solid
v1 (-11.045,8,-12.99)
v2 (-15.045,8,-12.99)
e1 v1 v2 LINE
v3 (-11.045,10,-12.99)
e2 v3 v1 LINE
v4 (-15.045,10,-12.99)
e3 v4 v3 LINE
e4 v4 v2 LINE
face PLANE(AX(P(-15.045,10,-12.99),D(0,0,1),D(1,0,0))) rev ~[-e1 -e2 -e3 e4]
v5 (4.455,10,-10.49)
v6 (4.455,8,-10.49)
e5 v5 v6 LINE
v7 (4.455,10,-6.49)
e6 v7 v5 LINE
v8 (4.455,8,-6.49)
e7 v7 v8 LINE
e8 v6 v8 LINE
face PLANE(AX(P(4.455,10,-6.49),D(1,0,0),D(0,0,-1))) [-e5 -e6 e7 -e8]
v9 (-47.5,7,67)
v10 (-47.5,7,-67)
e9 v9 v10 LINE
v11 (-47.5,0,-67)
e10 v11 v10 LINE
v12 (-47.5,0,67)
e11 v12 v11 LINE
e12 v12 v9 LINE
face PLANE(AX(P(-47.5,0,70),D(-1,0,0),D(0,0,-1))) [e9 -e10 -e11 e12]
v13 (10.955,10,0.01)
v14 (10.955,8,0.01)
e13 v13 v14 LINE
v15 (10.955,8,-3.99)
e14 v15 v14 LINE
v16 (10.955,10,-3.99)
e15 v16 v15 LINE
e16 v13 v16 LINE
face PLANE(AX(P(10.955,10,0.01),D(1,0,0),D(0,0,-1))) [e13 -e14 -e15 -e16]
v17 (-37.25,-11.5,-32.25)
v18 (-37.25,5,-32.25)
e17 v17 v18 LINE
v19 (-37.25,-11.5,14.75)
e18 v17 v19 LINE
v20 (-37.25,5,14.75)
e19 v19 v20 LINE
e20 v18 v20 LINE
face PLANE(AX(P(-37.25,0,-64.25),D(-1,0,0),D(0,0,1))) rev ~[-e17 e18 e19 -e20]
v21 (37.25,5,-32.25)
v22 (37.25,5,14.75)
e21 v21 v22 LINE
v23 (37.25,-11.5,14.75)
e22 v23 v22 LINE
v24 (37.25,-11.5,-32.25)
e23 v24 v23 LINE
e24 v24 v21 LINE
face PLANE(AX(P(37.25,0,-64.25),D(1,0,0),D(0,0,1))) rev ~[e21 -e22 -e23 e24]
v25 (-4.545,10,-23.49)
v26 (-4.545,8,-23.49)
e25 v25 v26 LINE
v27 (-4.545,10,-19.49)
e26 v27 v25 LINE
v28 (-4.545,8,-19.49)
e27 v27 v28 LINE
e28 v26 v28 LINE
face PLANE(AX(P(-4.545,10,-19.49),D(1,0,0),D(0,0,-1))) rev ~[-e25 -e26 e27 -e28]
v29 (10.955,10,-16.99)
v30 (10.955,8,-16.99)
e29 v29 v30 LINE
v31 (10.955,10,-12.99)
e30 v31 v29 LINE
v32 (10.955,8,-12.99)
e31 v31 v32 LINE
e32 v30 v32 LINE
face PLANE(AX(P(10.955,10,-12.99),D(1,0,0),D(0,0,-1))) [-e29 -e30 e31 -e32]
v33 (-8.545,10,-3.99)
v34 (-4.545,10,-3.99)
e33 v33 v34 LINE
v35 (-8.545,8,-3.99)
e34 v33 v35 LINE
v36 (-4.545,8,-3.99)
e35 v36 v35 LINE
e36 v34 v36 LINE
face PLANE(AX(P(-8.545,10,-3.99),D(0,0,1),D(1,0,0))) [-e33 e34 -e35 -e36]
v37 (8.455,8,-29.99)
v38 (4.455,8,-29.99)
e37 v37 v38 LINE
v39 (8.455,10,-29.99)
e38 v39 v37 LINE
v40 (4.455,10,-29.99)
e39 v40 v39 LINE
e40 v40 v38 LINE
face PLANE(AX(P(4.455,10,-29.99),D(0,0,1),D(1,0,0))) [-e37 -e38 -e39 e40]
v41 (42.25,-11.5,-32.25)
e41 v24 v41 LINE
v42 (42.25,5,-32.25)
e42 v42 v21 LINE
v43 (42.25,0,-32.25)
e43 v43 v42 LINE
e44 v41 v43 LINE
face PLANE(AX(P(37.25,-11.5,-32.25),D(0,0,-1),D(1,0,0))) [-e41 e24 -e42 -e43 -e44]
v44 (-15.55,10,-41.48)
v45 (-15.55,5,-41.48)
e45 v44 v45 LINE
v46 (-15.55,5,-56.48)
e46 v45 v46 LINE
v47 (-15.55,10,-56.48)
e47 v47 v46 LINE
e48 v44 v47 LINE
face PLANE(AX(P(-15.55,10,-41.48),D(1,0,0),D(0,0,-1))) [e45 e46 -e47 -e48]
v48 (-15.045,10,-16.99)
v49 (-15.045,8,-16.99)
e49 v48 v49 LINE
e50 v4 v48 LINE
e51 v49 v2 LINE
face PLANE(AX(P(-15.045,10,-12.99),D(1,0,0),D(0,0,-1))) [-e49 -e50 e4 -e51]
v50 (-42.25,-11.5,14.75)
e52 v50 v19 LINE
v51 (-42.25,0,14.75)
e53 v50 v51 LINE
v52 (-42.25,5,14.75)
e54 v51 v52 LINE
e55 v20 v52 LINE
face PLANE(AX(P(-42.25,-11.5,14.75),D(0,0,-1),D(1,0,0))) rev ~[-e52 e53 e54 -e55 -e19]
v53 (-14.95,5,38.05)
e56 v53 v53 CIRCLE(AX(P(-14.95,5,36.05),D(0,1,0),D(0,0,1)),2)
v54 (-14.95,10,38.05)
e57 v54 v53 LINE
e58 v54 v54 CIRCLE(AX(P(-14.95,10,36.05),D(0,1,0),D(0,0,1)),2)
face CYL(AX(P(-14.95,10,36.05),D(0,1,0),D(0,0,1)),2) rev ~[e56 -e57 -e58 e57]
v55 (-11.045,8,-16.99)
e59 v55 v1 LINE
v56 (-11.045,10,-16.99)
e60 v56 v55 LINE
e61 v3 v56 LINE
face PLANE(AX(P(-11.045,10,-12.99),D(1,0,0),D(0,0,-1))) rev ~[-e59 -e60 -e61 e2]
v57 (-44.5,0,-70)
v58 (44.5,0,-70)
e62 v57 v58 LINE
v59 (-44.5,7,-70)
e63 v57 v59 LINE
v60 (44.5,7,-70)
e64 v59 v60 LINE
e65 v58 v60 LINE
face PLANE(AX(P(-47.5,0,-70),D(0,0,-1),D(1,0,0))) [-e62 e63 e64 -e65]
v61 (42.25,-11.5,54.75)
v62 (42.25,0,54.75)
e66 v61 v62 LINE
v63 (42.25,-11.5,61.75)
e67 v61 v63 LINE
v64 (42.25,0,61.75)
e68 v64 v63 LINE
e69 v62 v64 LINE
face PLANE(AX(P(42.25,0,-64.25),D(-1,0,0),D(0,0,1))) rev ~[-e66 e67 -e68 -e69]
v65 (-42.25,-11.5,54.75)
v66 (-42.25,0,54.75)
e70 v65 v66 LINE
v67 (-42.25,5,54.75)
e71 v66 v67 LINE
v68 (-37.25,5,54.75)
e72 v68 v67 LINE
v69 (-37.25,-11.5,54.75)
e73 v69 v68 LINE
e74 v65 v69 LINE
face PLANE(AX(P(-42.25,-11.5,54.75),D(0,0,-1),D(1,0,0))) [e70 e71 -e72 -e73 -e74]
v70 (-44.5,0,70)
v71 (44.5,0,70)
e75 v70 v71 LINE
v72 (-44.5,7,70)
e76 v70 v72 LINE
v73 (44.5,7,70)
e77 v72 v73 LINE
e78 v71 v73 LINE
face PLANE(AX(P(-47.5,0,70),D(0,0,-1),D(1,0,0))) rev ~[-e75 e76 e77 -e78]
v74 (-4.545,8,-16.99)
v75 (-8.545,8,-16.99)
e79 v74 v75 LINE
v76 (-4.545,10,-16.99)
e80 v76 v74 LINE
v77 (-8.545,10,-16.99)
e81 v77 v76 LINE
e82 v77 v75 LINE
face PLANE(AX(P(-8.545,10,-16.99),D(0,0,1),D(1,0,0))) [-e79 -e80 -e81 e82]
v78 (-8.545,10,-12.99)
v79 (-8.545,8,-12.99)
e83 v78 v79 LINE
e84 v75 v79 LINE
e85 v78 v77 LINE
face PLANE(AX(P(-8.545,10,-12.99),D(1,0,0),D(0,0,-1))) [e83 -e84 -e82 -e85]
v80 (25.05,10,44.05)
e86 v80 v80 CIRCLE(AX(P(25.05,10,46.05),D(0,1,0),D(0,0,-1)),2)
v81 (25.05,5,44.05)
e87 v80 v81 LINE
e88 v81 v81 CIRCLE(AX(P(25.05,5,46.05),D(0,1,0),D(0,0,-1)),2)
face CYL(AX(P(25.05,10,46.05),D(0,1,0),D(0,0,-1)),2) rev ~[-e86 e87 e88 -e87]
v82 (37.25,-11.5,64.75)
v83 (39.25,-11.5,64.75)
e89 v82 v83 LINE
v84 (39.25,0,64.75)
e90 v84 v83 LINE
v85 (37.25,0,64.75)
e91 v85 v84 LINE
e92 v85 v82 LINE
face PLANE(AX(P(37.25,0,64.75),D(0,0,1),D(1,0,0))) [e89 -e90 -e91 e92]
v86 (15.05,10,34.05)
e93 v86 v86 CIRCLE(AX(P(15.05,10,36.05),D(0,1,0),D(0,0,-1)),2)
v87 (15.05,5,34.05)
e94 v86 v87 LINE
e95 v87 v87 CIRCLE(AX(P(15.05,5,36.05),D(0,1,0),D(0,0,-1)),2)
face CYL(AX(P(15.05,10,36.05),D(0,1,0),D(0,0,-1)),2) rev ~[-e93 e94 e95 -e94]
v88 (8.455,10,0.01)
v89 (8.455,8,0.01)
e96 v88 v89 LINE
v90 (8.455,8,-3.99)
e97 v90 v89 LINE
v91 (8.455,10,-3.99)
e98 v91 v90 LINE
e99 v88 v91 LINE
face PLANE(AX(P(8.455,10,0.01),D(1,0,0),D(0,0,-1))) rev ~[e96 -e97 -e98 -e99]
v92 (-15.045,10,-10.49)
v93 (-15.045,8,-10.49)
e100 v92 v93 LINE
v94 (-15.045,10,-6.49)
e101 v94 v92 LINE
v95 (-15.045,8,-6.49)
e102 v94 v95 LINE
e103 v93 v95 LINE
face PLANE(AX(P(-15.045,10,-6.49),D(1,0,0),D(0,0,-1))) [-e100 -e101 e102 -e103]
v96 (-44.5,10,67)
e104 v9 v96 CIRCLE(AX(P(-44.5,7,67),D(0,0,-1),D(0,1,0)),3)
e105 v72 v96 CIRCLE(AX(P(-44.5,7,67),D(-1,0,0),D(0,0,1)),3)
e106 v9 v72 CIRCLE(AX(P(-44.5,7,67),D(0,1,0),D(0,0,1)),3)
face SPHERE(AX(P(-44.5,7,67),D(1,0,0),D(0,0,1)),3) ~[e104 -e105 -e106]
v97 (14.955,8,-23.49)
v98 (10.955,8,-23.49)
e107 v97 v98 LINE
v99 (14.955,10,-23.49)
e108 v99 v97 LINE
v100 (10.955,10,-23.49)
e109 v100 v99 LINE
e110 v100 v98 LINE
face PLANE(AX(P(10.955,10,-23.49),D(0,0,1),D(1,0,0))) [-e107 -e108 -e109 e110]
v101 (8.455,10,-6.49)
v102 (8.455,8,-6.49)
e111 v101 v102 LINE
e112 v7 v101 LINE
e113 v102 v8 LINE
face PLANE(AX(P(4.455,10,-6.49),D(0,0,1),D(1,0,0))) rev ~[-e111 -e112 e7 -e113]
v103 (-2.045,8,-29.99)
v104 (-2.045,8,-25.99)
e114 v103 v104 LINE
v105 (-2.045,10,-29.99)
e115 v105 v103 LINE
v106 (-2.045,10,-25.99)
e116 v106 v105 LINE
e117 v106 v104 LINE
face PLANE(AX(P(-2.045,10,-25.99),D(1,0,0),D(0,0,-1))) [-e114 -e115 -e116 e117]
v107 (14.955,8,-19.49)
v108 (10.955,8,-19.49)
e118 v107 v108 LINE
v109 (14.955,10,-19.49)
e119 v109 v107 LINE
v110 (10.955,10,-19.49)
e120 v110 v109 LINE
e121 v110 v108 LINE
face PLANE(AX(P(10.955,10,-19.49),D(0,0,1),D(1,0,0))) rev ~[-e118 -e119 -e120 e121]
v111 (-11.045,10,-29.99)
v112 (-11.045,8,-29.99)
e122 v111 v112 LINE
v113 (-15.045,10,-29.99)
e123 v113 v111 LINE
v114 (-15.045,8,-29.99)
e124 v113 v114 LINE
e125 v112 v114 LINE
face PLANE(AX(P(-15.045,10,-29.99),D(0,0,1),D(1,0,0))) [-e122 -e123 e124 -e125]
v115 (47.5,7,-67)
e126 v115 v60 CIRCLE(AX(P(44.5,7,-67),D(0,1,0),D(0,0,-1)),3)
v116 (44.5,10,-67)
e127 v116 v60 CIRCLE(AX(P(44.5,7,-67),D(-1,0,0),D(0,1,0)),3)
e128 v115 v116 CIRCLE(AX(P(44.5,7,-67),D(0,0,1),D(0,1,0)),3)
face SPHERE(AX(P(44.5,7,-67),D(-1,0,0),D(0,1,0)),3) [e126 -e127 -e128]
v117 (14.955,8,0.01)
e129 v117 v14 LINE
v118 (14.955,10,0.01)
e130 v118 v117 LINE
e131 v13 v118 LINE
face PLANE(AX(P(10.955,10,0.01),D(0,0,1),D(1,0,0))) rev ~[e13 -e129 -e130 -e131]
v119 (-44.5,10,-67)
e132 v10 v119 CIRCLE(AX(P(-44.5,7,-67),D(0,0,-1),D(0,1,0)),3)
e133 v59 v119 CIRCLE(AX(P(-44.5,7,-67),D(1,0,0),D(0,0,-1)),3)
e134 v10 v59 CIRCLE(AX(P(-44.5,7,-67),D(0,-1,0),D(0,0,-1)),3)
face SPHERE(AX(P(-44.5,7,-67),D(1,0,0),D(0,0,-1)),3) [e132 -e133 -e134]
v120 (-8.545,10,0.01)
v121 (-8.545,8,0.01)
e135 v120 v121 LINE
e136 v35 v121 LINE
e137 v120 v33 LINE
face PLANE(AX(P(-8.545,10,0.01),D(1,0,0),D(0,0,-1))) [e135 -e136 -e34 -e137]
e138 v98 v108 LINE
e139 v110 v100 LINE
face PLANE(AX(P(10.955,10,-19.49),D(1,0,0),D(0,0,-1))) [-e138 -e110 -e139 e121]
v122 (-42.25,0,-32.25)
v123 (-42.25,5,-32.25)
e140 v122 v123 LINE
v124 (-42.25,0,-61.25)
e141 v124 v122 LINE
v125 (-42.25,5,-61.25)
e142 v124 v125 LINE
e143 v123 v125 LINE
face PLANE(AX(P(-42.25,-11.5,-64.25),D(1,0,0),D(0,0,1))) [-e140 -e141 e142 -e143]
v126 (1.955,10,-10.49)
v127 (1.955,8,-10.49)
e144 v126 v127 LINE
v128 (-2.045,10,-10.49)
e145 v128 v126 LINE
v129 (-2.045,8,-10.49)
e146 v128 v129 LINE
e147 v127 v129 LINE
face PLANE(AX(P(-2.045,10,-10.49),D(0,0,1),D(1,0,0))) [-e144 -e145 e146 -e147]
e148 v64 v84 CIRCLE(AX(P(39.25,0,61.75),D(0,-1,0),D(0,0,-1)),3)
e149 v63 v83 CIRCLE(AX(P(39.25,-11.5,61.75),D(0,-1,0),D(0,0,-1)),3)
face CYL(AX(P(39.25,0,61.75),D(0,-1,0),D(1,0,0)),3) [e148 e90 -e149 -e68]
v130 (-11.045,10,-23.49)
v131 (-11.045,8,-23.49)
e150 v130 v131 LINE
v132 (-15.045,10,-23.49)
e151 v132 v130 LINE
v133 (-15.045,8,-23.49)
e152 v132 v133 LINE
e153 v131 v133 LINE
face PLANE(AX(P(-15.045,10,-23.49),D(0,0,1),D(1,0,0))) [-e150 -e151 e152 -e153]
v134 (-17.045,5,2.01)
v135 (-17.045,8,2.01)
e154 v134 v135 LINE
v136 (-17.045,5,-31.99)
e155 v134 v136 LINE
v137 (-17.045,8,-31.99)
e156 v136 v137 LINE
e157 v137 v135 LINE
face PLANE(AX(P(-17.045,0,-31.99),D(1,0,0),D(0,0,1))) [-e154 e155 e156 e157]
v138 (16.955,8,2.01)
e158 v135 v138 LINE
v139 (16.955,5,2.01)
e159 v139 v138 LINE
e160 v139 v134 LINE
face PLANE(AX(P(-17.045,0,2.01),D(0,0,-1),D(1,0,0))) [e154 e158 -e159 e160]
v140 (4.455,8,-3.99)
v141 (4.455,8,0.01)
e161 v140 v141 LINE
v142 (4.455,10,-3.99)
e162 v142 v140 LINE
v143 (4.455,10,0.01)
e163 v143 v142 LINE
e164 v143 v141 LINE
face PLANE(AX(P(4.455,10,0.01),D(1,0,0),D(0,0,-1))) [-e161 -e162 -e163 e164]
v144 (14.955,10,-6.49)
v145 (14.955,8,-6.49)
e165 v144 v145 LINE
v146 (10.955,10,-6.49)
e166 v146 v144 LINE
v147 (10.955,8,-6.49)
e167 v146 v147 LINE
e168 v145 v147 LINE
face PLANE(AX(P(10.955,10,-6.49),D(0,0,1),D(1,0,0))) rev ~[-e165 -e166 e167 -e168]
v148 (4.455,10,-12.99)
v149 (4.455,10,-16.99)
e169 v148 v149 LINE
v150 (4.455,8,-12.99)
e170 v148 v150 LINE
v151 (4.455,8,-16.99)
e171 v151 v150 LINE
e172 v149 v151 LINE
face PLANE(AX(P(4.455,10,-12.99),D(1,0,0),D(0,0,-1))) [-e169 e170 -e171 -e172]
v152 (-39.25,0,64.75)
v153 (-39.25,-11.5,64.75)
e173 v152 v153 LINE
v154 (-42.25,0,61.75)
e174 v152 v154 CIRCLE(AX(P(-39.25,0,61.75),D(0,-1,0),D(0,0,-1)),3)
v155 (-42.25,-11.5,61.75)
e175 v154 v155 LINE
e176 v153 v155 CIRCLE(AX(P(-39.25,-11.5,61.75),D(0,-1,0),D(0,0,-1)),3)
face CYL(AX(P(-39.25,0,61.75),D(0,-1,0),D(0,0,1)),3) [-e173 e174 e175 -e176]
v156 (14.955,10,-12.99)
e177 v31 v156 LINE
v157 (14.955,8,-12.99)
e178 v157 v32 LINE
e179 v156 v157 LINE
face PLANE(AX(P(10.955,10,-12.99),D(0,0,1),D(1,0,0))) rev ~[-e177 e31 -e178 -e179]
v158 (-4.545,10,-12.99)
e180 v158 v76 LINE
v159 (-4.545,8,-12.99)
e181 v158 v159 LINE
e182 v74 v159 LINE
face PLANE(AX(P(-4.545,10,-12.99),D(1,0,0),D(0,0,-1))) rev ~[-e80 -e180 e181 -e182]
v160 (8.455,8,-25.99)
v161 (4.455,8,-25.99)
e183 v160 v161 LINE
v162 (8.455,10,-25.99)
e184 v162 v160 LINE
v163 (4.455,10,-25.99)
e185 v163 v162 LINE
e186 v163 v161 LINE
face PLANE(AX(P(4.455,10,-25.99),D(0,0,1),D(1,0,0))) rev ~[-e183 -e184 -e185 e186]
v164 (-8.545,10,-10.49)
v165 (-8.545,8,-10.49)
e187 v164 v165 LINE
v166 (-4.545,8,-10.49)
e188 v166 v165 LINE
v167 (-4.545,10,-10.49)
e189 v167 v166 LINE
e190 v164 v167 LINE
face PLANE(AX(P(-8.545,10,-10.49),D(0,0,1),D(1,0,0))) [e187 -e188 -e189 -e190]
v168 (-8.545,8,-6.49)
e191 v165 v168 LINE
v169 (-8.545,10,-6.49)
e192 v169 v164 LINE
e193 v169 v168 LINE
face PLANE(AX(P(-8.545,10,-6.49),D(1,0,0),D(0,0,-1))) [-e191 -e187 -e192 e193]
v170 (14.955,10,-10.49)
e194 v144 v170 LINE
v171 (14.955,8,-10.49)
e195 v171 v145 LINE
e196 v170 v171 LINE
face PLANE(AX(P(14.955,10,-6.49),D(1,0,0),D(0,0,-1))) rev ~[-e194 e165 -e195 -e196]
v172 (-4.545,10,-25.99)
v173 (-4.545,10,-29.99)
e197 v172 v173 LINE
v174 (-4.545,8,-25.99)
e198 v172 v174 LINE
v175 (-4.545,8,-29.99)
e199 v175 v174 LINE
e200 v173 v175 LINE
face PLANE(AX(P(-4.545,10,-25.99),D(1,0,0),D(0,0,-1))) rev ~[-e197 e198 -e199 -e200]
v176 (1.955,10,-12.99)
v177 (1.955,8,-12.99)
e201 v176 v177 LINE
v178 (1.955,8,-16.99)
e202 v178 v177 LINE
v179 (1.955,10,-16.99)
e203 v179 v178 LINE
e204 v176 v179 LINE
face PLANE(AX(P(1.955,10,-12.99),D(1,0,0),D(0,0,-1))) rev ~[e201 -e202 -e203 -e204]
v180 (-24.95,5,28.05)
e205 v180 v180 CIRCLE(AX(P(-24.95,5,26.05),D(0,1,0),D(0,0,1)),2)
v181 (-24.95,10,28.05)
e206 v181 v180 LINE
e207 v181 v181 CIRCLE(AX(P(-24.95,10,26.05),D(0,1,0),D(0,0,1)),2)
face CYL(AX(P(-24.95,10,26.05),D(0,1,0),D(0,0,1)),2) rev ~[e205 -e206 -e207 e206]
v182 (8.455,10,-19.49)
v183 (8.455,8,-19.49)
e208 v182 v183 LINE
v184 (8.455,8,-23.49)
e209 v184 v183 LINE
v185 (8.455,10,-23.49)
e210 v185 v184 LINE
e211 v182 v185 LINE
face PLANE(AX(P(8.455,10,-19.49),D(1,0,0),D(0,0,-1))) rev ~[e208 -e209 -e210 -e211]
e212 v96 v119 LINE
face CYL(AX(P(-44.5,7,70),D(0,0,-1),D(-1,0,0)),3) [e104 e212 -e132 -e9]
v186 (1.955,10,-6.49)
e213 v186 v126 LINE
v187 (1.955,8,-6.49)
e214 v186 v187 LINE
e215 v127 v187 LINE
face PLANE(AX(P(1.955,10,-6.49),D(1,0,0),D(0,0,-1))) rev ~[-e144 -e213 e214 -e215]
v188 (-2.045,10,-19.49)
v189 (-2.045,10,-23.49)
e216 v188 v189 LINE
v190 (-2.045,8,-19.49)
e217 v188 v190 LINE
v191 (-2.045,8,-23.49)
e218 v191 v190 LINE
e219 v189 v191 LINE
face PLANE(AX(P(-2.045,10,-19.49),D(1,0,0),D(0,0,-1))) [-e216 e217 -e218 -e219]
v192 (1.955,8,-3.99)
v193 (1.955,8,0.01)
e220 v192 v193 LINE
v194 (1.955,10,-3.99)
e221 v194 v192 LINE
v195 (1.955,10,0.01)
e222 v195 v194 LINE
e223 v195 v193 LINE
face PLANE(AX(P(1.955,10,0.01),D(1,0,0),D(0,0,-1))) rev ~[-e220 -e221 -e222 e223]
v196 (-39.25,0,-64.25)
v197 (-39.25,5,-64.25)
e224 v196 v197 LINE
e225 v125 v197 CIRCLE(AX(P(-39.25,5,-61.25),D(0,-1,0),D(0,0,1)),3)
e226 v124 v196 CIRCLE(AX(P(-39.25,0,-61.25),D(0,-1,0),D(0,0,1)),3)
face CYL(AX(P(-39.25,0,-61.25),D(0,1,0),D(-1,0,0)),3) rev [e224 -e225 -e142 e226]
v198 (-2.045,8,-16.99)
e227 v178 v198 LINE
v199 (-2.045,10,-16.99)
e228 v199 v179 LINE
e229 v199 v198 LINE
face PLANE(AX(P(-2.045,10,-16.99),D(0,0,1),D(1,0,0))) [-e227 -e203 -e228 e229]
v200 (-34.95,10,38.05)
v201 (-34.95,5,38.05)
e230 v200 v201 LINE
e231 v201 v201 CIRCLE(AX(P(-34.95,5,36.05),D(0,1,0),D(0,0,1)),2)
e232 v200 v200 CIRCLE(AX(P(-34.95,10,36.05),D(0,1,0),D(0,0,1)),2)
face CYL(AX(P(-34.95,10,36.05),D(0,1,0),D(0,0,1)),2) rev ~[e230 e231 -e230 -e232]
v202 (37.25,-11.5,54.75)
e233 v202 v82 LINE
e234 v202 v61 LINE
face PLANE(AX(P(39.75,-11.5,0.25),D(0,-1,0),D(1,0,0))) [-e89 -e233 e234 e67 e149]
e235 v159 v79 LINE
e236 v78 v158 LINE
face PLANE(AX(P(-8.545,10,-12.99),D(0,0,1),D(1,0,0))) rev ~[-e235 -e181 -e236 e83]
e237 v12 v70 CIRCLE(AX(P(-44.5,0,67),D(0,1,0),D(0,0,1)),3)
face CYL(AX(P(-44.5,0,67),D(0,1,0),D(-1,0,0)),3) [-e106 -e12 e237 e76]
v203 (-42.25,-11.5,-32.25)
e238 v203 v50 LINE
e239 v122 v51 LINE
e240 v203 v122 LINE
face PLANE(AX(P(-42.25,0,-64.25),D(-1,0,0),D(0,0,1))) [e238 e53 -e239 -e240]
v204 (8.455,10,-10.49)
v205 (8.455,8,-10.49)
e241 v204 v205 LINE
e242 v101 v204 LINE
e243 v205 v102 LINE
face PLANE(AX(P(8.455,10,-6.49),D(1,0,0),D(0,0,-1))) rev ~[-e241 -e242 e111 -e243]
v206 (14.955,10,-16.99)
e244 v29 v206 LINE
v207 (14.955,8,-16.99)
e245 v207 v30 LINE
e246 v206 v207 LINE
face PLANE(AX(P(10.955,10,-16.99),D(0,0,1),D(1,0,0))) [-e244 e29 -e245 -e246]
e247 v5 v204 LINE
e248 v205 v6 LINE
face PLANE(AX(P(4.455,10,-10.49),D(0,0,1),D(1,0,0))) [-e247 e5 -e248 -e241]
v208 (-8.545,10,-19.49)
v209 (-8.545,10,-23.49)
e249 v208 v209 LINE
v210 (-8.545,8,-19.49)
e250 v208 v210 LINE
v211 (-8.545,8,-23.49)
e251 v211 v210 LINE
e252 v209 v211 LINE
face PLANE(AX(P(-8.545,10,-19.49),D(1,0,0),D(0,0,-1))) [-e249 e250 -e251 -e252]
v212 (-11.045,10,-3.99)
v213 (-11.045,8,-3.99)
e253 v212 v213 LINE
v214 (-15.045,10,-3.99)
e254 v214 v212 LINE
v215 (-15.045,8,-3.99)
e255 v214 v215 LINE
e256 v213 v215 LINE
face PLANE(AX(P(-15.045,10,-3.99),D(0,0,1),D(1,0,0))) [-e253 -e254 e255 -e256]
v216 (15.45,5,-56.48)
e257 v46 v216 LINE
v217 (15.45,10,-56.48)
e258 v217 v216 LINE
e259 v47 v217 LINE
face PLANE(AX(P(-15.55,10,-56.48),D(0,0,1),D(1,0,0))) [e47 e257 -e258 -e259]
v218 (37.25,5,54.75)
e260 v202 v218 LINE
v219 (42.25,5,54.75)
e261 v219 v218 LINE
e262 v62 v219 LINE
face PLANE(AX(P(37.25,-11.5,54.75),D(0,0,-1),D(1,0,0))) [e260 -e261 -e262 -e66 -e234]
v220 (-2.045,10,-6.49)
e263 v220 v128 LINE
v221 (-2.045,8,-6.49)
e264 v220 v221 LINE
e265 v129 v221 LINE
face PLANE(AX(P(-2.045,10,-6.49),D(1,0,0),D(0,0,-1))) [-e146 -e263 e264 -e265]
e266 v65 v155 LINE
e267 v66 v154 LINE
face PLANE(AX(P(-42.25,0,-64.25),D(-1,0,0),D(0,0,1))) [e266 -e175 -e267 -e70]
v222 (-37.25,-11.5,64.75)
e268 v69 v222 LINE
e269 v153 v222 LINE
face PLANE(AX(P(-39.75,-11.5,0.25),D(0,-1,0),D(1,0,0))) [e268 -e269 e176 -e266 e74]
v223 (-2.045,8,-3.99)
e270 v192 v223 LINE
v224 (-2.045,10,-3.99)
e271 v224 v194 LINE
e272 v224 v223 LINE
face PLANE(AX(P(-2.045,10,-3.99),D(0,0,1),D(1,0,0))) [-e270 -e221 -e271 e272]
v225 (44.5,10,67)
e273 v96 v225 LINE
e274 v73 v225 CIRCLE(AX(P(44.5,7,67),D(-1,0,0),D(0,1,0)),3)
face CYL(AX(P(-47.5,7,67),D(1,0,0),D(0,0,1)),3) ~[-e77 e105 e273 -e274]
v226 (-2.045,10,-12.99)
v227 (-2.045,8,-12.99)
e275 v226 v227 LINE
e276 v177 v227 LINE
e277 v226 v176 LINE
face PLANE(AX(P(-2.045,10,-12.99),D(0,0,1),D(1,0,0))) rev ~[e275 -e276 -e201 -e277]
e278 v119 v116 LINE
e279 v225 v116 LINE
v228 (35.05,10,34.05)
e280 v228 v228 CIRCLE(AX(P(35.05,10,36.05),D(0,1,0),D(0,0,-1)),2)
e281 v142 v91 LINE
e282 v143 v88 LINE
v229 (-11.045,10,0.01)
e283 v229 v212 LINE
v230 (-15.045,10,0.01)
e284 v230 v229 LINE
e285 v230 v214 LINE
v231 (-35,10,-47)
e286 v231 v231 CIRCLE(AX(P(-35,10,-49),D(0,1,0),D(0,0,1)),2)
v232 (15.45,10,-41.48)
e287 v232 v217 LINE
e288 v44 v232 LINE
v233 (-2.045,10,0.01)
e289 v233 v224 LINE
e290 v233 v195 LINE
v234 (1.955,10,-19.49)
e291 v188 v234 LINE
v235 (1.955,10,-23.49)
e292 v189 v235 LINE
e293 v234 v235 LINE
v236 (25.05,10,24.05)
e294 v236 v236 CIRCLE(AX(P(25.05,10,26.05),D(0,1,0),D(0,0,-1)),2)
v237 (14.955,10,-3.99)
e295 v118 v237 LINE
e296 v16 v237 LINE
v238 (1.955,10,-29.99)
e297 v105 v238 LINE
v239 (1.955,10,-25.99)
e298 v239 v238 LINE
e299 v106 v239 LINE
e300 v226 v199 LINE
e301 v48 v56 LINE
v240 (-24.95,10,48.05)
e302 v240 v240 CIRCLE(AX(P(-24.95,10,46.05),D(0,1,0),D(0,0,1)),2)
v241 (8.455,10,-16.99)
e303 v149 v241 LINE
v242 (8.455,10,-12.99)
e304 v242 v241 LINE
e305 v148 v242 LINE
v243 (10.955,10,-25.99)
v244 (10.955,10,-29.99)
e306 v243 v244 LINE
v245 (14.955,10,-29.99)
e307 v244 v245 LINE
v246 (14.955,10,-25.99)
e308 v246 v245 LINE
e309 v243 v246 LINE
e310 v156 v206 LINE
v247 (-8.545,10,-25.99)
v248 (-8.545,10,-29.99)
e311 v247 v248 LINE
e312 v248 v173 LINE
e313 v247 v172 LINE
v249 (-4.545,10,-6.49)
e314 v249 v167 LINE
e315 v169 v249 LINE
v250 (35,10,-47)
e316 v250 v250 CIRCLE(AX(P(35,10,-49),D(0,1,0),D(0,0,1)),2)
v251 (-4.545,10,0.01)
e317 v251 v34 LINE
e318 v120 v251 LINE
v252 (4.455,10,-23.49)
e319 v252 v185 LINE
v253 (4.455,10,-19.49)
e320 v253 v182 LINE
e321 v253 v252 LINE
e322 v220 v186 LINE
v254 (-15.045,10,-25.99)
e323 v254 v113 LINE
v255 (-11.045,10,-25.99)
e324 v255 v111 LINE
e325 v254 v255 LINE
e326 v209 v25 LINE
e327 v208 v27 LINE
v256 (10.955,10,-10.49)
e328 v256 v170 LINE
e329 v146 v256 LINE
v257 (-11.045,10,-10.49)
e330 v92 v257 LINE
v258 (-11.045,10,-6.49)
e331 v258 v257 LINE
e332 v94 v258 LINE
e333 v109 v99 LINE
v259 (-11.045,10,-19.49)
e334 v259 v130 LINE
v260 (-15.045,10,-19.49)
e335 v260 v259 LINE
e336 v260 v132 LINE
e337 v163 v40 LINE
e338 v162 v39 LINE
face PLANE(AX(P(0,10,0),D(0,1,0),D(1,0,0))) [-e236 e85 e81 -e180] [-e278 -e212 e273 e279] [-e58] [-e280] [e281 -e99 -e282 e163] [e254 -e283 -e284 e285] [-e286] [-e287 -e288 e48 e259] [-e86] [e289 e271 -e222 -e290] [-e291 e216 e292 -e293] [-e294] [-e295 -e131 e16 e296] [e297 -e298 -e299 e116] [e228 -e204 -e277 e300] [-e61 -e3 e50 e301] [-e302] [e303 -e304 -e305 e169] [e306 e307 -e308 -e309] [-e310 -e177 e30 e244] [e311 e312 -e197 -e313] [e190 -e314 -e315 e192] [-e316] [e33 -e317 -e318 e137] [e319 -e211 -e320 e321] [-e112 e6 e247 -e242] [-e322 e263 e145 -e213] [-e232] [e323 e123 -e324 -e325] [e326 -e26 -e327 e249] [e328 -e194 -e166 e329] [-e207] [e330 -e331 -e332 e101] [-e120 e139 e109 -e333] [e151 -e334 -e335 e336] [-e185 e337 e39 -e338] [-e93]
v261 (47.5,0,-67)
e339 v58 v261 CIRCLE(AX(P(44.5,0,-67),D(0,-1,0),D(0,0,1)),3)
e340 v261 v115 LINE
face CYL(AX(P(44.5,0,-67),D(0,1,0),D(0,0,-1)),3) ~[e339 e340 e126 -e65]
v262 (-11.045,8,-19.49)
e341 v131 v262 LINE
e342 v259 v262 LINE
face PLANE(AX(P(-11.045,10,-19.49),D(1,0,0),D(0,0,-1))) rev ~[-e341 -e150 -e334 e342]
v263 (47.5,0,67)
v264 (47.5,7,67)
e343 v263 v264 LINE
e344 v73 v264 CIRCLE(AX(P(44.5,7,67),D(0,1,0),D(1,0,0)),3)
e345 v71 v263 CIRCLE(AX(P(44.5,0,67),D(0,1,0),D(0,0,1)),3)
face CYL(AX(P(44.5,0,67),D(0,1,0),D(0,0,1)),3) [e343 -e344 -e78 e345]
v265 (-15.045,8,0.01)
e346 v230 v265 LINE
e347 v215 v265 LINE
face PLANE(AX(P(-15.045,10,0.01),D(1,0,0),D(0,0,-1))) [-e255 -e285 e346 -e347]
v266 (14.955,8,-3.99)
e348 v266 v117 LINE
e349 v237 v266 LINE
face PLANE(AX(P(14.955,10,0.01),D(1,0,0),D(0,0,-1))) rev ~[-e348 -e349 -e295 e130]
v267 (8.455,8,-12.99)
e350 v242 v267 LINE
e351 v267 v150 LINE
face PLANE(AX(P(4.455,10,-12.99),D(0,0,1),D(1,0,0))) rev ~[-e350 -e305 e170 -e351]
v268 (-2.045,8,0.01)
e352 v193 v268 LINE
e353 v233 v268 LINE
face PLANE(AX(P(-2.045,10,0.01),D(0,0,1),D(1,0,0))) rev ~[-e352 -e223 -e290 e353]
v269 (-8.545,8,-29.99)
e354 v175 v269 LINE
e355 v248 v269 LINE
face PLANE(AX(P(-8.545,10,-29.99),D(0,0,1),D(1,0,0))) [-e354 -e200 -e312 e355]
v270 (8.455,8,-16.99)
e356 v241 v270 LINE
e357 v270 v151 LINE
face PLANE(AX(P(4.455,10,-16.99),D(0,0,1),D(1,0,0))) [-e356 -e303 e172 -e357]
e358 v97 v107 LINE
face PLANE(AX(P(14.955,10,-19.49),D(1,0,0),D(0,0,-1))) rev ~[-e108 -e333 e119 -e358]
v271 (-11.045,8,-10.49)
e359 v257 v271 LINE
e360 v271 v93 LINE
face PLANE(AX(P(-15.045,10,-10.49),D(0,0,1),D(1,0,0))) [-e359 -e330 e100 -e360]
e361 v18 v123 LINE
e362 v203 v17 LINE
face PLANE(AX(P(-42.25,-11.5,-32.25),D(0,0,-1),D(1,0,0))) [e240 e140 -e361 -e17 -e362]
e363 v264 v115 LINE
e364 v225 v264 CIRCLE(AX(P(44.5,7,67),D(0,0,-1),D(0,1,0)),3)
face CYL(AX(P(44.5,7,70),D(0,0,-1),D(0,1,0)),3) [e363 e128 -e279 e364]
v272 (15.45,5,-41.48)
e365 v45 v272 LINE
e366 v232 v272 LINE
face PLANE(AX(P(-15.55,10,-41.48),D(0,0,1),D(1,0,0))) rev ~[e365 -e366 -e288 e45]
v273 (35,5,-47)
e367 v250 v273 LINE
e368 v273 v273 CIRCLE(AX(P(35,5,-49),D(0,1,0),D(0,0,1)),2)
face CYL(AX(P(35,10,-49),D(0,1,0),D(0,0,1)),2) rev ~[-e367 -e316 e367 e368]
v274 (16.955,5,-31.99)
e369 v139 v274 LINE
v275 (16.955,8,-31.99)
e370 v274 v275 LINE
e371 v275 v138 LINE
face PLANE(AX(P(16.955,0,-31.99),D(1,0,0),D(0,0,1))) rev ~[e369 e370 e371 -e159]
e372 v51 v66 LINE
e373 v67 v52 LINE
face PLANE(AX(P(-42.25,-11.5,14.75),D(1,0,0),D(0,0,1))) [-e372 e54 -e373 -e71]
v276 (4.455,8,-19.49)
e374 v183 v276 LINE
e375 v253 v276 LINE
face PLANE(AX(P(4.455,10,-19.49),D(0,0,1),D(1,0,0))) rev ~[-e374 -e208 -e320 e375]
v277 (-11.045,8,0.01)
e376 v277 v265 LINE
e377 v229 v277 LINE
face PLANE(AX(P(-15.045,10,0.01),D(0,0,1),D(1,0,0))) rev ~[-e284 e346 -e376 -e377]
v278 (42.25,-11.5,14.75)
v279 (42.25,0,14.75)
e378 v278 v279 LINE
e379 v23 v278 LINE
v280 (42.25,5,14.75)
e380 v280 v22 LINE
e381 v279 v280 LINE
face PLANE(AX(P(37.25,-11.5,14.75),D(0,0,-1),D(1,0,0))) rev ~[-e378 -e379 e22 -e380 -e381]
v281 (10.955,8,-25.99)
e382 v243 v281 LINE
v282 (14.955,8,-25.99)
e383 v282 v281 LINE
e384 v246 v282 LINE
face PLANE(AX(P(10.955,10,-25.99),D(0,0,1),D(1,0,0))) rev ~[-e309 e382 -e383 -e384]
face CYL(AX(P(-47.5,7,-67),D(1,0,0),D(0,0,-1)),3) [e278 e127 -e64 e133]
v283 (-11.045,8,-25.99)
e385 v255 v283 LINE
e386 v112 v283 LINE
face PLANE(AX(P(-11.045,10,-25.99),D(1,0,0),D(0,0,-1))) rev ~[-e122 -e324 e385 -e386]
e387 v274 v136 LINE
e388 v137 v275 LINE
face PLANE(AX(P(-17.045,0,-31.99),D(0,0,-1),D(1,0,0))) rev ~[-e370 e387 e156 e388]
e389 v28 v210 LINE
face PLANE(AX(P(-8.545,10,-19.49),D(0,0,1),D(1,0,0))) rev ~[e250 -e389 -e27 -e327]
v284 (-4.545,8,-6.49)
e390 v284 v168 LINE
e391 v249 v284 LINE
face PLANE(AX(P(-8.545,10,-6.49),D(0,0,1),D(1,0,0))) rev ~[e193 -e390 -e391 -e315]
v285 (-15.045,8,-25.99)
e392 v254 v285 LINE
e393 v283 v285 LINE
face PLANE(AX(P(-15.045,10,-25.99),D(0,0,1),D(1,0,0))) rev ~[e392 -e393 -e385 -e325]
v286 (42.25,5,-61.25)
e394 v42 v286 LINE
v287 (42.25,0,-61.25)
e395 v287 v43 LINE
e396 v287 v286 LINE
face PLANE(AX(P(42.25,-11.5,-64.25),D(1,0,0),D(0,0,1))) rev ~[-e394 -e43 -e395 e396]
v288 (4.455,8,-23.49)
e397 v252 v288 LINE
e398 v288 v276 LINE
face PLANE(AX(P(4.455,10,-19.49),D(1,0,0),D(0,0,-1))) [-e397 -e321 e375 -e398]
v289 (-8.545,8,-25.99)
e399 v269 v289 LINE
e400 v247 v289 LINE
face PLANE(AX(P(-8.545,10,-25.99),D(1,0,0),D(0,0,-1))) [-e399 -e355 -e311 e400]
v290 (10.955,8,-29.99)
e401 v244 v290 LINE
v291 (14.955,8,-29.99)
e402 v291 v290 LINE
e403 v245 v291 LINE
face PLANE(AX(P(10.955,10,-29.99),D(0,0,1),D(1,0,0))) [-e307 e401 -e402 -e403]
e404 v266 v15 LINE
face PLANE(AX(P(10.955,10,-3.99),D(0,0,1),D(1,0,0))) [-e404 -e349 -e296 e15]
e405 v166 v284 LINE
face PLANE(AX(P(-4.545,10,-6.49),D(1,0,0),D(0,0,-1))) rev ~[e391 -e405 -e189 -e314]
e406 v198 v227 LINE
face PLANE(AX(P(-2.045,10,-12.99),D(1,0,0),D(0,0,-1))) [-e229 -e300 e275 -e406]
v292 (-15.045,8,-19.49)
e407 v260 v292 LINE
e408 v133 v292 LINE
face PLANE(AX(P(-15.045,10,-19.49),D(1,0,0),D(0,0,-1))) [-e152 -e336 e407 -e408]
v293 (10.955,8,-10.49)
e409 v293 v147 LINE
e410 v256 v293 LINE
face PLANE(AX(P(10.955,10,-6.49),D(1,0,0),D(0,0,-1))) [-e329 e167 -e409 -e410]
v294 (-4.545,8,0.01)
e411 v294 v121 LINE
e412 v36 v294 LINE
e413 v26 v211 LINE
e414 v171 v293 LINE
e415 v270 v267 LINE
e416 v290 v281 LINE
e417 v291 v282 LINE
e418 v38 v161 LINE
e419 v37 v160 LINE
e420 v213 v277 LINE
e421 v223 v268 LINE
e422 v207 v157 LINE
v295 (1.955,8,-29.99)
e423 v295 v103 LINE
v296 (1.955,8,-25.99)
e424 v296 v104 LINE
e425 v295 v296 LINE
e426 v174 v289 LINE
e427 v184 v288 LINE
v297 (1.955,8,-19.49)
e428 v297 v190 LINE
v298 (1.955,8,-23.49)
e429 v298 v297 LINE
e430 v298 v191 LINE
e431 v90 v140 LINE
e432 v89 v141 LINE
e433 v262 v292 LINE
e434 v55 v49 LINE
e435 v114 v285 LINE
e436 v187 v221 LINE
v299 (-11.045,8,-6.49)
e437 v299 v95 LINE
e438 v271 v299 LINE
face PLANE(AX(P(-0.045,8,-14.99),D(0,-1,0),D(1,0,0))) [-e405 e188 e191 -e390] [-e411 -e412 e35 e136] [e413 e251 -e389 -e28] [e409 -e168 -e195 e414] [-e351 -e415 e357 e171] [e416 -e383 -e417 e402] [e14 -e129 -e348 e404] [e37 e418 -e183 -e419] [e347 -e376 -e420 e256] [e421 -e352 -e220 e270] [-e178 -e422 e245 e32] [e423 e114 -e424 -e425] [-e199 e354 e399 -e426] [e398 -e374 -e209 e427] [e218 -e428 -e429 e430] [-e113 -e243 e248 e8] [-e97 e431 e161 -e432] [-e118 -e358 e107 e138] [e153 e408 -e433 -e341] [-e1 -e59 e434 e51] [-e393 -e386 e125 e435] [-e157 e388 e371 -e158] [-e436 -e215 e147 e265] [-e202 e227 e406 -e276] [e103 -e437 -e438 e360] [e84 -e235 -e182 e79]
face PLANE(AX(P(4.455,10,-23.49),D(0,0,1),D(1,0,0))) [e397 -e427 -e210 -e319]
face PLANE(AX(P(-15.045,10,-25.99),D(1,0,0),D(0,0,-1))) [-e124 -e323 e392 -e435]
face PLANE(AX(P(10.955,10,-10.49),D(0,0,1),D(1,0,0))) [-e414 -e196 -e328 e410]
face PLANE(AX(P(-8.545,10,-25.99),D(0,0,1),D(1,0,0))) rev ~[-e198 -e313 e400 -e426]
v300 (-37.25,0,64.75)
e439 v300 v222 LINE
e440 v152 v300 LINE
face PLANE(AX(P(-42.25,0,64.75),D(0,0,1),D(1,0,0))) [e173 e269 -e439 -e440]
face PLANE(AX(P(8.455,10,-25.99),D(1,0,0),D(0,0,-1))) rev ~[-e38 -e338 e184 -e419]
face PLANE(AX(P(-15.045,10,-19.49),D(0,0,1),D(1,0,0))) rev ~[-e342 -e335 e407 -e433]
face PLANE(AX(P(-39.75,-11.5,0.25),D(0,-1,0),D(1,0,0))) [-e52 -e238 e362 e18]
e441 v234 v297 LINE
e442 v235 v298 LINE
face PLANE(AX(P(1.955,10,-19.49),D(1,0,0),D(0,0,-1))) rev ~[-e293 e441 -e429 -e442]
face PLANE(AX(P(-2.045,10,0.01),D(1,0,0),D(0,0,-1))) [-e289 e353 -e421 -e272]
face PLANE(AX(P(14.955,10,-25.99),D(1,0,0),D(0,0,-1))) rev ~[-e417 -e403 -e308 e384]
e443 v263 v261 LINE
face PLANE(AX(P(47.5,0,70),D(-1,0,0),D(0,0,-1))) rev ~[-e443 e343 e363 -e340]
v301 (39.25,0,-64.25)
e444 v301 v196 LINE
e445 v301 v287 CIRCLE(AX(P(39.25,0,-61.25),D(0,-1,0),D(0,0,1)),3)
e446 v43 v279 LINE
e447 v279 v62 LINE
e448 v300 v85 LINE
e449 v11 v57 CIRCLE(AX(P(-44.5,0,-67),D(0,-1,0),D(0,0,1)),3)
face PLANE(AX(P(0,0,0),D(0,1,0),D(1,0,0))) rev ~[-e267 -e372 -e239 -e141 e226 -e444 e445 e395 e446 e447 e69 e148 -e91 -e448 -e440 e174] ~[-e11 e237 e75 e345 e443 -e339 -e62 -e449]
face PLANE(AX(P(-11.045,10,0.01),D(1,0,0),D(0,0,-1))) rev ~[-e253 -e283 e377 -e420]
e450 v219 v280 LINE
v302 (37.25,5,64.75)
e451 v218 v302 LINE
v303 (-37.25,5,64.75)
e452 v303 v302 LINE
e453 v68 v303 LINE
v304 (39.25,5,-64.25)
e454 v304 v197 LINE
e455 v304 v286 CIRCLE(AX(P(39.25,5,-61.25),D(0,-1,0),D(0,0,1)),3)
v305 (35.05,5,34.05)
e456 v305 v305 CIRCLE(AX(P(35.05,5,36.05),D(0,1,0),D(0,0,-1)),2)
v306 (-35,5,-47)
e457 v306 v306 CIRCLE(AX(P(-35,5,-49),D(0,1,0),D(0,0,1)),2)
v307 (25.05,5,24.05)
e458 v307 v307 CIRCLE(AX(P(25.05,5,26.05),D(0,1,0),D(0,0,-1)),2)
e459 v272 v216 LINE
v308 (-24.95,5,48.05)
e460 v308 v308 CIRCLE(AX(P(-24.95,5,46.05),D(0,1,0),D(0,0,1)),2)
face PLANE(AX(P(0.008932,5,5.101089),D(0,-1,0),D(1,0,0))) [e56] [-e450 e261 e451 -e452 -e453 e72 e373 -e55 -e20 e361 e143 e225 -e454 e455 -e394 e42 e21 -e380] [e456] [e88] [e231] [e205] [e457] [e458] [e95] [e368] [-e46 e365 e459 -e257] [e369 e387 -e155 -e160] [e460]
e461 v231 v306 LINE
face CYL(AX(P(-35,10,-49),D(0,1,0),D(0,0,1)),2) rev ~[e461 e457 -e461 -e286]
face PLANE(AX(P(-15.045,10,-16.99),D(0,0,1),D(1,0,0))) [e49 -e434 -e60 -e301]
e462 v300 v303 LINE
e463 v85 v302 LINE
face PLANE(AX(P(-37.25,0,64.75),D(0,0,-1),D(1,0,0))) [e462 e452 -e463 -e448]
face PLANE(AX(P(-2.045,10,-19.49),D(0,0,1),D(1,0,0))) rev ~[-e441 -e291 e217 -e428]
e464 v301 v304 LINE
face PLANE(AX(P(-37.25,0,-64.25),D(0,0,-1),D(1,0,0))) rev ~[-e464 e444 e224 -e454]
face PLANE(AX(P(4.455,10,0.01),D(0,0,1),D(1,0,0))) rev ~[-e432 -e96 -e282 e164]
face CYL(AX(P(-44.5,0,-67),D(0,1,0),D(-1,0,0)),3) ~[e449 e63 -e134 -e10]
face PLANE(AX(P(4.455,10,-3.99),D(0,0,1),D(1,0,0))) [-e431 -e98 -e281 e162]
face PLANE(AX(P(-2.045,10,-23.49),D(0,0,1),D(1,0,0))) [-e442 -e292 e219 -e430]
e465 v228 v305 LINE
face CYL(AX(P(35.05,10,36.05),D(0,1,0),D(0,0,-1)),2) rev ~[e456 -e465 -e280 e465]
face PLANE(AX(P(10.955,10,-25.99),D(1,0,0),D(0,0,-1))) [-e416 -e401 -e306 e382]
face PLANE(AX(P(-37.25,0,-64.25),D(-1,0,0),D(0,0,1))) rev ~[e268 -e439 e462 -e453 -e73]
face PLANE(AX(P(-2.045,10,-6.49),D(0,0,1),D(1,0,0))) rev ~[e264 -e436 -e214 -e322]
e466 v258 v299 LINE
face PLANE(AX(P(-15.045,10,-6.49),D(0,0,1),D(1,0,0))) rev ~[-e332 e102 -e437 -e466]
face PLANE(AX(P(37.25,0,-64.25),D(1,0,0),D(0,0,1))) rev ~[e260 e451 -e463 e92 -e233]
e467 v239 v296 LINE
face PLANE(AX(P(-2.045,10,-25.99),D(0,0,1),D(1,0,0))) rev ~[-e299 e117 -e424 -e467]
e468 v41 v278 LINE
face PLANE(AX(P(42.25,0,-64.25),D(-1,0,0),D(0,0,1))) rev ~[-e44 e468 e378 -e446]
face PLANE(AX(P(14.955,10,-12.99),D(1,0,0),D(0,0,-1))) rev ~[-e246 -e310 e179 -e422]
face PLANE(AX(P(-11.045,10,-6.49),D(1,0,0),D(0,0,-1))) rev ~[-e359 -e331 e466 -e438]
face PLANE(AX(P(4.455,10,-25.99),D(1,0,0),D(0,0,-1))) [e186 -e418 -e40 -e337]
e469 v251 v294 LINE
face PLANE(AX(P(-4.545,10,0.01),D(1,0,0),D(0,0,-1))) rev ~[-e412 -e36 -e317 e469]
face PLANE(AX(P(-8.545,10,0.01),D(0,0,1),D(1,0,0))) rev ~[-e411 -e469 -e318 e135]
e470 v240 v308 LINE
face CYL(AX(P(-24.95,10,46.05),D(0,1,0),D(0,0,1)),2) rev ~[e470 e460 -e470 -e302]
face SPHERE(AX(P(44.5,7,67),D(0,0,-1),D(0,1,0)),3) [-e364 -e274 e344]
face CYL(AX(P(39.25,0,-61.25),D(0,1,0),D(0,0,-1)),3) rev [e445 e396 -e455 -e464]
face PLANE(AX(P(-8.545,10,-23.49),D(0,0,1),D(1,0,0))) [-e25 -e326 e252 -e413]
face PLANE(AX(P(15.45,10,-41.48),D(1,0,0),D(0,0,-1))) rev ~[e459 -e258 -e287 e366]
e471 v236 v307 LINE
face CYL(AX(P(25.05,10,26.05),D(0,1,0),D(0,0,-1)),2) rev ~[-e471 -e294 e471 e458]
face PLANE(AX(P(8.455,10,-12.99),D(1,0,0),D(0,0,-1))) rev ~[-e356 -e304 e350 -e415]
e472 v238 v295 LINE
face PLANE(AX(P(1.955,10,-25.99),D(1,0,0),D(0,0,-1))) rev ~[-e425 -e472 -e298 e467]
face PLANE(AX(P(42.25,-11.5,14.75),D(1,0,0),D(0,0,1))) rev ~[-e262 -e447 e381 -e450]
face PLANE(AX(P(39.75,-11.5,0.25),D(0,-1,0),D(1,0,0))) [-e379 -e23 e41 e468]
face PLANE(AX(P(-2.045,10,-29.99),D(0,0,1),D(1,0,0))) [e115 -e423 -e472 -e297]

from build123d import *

# Parameters (mm, degrees)
SKETCH1_W           = 95
SKETCH1_H           = 140
BOSS_EXTRUDE1_DEPTH = 10
SKETCH7_W           = 5
SKETCH7_H           = 129
BOSS_EXTRUDE3_DEPTH = 11.5
SKETCH8_R           = 2
SKETCH8_W           = 31
SKETCH8_H           = 15
CUT_EXTRUDE1_DEPTH  = 10
SKETCH14_W          = 34
SKETCH14_H          = 34
CUT_EXTRUDE3_DEPTH  = 8
SKETCH13_W          = 4
SKETCH13_H          = 4
CUT_EXTRUDE4_DEPTH  = 7
SKETCH15_W          = 74.5
SKETCH15_H          = 129
CUT_EXTRUDE5_DEPTH  = 5
CUT_EXTRUDE8_REACH  = 89.284
SKETCH18_W          = 5
SKETCH18_H          = 32
SKETCH18_H_2        = 40
FILLET1_R           = 3


with BuildPart() as part:
    # Sketch1 → Boss-Extrude1 (new body)
    with BuildSketch(Plane(origin=(0, 0, 0), x_dir=(1, 0, 0), z_dir=(0, 1, 0))):
        Rectangle(SKETCH1_W, SKETCH1_H)
    extrude(amount=BOSS_EXTRUDE1_DEPTH)

    # Sketch7 → Boss-Extrude3 (add)
    with BuildSketch(Plane.XZ):
        with Locations((-39.75, 0.25)):
            Rectangle(SKETCH7_W, SKETCH7_H)
        with Locations((39.75, 0.25)):
            Rectangle(SKETCH7_W, SKETCH7_H)
    extrude(amount=BOSS_EXTRUDE3_DEPTH)

    # Sketch8 → Cut-Extrude1 (cut)
    with BuildSketch(Plane(origin=(0, 10, 0), x_dir=(1, 0, 0), z_dir=(0, 1, 0))):
        with Locations(Location((-35, 49, 0), (0, 0, 270))):
            Circle(SKETCH8_R)
        with Locations(Location((35, 49, 0), (0, 0, 270))):
            Circle(SKETCH8_R)
        with Locations(Location((-14.95, -36.05, 0), (0, 0, 270))):
            Circle(SKETCH8_R)
        with Locations(Location((-34.95, -36.05, 0), (0, 0, 270))):
            Circle(SKETCH8_R)
        with Locations(Location((-24.95, -46.05, 0), (0, 0, 270))):
            Circle(SKETCH8_R)
        with Locations(Location((-24.95, -26.05, 0), (0, 0, 270))):
            Circle(SKETCH8_R)
        with Locations(Location((25.05, -26.05, 0), (0, 0, 90))):
            Circle(SKETCH8_R)
        with Locations(Location((35.05, -36.05, 0), (0, 0, 90))):
            Circle(SKETCH8_R)
        with Locations(Location((25.05, -46.05, 0), (0, 0, 90))):
            Circle(SKETCH8_R)
        with Locations(Location((15.05, -36.05, 0), (0, 0, 90))):
            Circle(SKETCH8_R)
        with Locations((-0.05, 48.98)):
            Rectangle(SKETCH8_W, SKETCH8_H)
    extrude(amount=-CUT_EXTRUDE1_DEPTH, mode=Mode.SUBTRACT)

    # Sketch14 → Cut-Extrude3 (cut)
    with BuildSketch(Plane.XZ):
        with Locations((-0.045, -14.99)):
            Rectangle(SKETCH14_W, SKETCH14_H)
    extrude(amount=-CUT_EXTRUDE3_DEPTH, mode=Mode.SUBTRACT)

    # Sketch13 → Cut-Extrude4 (cut)
    with BuildSketch(Plane(origin=(0, 10, 0), x_dir=(1, 0, 0), z_dir=(0, 1, 0))):
        with Locations((-6.545, 27.99)):
            Rectangle(SKETCH13_W, SKETCH13_H)
        with Locations((-13.045, 27.99)):
            Rectangle(SKETCH13_W, SKETCH13_H)
        with Locations((-0.045, 27.99)):
            Rectangle(SKETCH13_W, SKETCH13_H)
        with Locations((6.455, 27.99)):
            Rectangle(SKETCH13_W, SKETCH13_H)
        with Locations((12.955, 27.99)):
            Rectangle(SKETCH13_W, SKETCH13_H)
        with Locations((-6.545, 21.49)):
            Rectangle(SKETCH13_W, SKETCH13_H)
        with Locations((-0.045, 21.49)):
            Rectangle(SKETCH13_W, SKETCH13_H)
        with Locations((6.455, 21.49)):
            Rectangle(SKETCH13_W, SKETCH13_H)
        with Locations((12.955, 21.49)):
            Rectangle(SKETCH13_W, SKETCH13_H)
        with Locations((-6.545, 14.99)):
            Rectangle(SKETCH13_W, SKETCH13_H)
        with Locations((-0.045, 14.99)):
            Rectangle(SKETCH13_W, SKETCH13_H)
        with Locations((6.455, 14.99)):
            Rectangle(SKETCH13_W, SKETCH13_H)
        with Locations((12.955, 14.99)):
            Rectangle(SKETCH13_W, SKETCH13_H)
        with Locations((-6.545, 8.49)):
            Rectangle(SKETCH13_W, SKETCH13_H)
        with Locations((-0.045, 8.49)):
            Rectangle(SKETCH13_W, SKETCH13_H)
        with Locations((6.455, 8.49)):
            Rectangle(SKETCH13_W, SKETCH13_H)
        with Locations((12.955, 8.49)):
            Rectangle(SKETCH13_W, SKETCH13_H)
        with Locations((-6.545, 1.99)):
            Rectangle(SKETCH13_W, SKETCH13_H)
        with Locations((-0.045, 1.99)):
            Rectangle(SKETCH13_W, SKETCH13_H)
        with Locations((6.455, 1.99)):
            Rectangle(SKETCH13_W, SKETCH13_H)
        with Locations((12.955, 1.99)):
            Rectangle(SKETCH13_W, SKETCH13_H)
        with Locations((-13.045, 21.49)):
            Rectangle(SKETCH13_W, SKETCH13_H)
        with Locations((-13.045, 14.99)):
            Rectangle(SKETCH13_W, SKETCH13_H)
        with Locations((-13.045, 8.49)):
            Rectangle(SKETCH13_W, SKETCH13_H)
        with Locations((-13.045, 1.99)):
            Rectangle(SKETCH13_W, SKETCH13_H)
    extrude(amount=-CUT_EXTRUDE4_DEPTH, mode=Mode.SUBTRACT)

    # Sketch15 → Cut-Extrude5 (cut)
    with BuildSketch(Plane.XZ):
        with Locations((0, 0.25)):
            Rectangle(SKETCH15_W, SKETCH15_H)
    extrude(amount=-CUT_EXTRUDE5_DEPTH, mode=Mode.SUBTRACT)

    # Cut-Extrude8: up to this face of the body (flat: up to its plane)
    cut_extrude8_end = Plane(part.part.faces().sort_by_distance((0.008932466, 5, 5.101088901))[0])
    # Sketch18 → Cut-Extrude8 (cut, up to the picked face)
    with BuildSketch(Plane.XZ.offset(11.5), mode=Mode.PRIVATE) as cut_extrude8_sk1:
        with Locations((-39.75, -48.25)):
            Rectangle(SKETCH18_W, SKETCH18_H)
    cut_extrude8_tool1 = split(extrude(cut_extrude8_sk1.sketch, amount=-CUT_EXTRUDE8_REACH, mode=Mode.PRIVATE), bisect_by=cut_extrude8_end, keep=Keep.BOTH, mode=Mode.PRIVATE)
    # Sketch18 → Cut-Extrude8 (cut, up to the picked face)
    with BuildSketch(Plane.XZ.offset(11.5), mode=Mode.PRIVATE) as cut_extrude8_sk2:
        with Locations((-39.75, 34.75)):
            Rectangle(SKETCH18_W, SKETCH18_H_2)
    cut_extrude8_tool2 = split(extrude(cut_extrude8_sk2.sketch, amount=-CUT_EXTRUDE8_REACH, mode=Mode.PRIVATE), bisect_by=cut_extrude8_end, keep=Keep.BOTH, mode=Mode.PRIVATE)
    # Sketch18 → Cut-Extrude8 (cut, up to the picked face)
    with BuildSketch(Plane.XZ.offset(11.5), mode=Mode.PRIVATE) as cut_extrude8_sk3:
        with Locations((39.75, -48.25)):
            Rectangle(SKETCH18_W, SKETCH18_H)
    cut_extrude8_tool3 = split(extrude(cut_extrude8_sk3.sketch, amount=-CUT_EXTRUDE8_REACH, mode=Mode.PRIVATE), bisect_by=cut_extrude8_end, keep=Keep.BOTH, mode=Mode.PRIVATE)
    # Sketch18 → Cut-Extrude8 (cut, up to the picked face)
    with BuildSketch(Plane.XZ.offset(11.5), mode=Mode.PRIVATE) as cut_extrude8_sk4:
        with Locations((39.75, 34.75)):
            Rectangle(SKETCH18_W, SKETCH18_H_2)
    cut_extrude8_tool4 = split(extrude(cut_extrude8_sk4.sketch, amount=-CUT_EXTRUDE8_REACH, mode=Mode.PRIVATE), bisect_by=cut_extrude8_end, keep=Keep.BOTH, mode=Mode.PRIVATE)
    add(cut_extrude8_tool1.solids().sort_by(Axis((-39.75, -11.5, -48.25), (0, 1, 0)))[0], mode=Mode.SUBTRACT)
    add(cut_extrude8_tool2.solids().sort_by(Axis((-39.75, -11.5, 34.75), (0, 1, 0)))[0], mode=Mode.SUBTRACT)
    add(cut_extrude8_tool3.solids().sort_by(Axis((39.75, -11.5, -48.25), (0, 1, 0)))[0], mode=Mode.SUBTRACT)
    add(cut_extrude8_tool4.solids().sort_by(Axis((39.75, -11.5, 34.75), (0, 1, 0)))[0], mode=Mode.SUBTRACT)

    # Fillet1
    fillet1_edges = [part.edges().sort_by_distance(p)[0] for p in [
        (0, 10, -70),
        (47.5, 10, 0),
        (-42.25, -5.75, 64.75),
        (42.25, -5.75, 64.75),
        (0, 10, 70),
        (42.25, 2.5, -64.25),
        (-42.25, 2.5, -64.25),
        (47.5, 5, 70),
        (47.5, 5, -70),
        (-47.5, 5, -70),
        (-47.5, 5, 70),
        (-47.5, 10, 0),
    ]]
    fillet(fillet1_edges, radius=FILLET1_R)


solid = part.part
